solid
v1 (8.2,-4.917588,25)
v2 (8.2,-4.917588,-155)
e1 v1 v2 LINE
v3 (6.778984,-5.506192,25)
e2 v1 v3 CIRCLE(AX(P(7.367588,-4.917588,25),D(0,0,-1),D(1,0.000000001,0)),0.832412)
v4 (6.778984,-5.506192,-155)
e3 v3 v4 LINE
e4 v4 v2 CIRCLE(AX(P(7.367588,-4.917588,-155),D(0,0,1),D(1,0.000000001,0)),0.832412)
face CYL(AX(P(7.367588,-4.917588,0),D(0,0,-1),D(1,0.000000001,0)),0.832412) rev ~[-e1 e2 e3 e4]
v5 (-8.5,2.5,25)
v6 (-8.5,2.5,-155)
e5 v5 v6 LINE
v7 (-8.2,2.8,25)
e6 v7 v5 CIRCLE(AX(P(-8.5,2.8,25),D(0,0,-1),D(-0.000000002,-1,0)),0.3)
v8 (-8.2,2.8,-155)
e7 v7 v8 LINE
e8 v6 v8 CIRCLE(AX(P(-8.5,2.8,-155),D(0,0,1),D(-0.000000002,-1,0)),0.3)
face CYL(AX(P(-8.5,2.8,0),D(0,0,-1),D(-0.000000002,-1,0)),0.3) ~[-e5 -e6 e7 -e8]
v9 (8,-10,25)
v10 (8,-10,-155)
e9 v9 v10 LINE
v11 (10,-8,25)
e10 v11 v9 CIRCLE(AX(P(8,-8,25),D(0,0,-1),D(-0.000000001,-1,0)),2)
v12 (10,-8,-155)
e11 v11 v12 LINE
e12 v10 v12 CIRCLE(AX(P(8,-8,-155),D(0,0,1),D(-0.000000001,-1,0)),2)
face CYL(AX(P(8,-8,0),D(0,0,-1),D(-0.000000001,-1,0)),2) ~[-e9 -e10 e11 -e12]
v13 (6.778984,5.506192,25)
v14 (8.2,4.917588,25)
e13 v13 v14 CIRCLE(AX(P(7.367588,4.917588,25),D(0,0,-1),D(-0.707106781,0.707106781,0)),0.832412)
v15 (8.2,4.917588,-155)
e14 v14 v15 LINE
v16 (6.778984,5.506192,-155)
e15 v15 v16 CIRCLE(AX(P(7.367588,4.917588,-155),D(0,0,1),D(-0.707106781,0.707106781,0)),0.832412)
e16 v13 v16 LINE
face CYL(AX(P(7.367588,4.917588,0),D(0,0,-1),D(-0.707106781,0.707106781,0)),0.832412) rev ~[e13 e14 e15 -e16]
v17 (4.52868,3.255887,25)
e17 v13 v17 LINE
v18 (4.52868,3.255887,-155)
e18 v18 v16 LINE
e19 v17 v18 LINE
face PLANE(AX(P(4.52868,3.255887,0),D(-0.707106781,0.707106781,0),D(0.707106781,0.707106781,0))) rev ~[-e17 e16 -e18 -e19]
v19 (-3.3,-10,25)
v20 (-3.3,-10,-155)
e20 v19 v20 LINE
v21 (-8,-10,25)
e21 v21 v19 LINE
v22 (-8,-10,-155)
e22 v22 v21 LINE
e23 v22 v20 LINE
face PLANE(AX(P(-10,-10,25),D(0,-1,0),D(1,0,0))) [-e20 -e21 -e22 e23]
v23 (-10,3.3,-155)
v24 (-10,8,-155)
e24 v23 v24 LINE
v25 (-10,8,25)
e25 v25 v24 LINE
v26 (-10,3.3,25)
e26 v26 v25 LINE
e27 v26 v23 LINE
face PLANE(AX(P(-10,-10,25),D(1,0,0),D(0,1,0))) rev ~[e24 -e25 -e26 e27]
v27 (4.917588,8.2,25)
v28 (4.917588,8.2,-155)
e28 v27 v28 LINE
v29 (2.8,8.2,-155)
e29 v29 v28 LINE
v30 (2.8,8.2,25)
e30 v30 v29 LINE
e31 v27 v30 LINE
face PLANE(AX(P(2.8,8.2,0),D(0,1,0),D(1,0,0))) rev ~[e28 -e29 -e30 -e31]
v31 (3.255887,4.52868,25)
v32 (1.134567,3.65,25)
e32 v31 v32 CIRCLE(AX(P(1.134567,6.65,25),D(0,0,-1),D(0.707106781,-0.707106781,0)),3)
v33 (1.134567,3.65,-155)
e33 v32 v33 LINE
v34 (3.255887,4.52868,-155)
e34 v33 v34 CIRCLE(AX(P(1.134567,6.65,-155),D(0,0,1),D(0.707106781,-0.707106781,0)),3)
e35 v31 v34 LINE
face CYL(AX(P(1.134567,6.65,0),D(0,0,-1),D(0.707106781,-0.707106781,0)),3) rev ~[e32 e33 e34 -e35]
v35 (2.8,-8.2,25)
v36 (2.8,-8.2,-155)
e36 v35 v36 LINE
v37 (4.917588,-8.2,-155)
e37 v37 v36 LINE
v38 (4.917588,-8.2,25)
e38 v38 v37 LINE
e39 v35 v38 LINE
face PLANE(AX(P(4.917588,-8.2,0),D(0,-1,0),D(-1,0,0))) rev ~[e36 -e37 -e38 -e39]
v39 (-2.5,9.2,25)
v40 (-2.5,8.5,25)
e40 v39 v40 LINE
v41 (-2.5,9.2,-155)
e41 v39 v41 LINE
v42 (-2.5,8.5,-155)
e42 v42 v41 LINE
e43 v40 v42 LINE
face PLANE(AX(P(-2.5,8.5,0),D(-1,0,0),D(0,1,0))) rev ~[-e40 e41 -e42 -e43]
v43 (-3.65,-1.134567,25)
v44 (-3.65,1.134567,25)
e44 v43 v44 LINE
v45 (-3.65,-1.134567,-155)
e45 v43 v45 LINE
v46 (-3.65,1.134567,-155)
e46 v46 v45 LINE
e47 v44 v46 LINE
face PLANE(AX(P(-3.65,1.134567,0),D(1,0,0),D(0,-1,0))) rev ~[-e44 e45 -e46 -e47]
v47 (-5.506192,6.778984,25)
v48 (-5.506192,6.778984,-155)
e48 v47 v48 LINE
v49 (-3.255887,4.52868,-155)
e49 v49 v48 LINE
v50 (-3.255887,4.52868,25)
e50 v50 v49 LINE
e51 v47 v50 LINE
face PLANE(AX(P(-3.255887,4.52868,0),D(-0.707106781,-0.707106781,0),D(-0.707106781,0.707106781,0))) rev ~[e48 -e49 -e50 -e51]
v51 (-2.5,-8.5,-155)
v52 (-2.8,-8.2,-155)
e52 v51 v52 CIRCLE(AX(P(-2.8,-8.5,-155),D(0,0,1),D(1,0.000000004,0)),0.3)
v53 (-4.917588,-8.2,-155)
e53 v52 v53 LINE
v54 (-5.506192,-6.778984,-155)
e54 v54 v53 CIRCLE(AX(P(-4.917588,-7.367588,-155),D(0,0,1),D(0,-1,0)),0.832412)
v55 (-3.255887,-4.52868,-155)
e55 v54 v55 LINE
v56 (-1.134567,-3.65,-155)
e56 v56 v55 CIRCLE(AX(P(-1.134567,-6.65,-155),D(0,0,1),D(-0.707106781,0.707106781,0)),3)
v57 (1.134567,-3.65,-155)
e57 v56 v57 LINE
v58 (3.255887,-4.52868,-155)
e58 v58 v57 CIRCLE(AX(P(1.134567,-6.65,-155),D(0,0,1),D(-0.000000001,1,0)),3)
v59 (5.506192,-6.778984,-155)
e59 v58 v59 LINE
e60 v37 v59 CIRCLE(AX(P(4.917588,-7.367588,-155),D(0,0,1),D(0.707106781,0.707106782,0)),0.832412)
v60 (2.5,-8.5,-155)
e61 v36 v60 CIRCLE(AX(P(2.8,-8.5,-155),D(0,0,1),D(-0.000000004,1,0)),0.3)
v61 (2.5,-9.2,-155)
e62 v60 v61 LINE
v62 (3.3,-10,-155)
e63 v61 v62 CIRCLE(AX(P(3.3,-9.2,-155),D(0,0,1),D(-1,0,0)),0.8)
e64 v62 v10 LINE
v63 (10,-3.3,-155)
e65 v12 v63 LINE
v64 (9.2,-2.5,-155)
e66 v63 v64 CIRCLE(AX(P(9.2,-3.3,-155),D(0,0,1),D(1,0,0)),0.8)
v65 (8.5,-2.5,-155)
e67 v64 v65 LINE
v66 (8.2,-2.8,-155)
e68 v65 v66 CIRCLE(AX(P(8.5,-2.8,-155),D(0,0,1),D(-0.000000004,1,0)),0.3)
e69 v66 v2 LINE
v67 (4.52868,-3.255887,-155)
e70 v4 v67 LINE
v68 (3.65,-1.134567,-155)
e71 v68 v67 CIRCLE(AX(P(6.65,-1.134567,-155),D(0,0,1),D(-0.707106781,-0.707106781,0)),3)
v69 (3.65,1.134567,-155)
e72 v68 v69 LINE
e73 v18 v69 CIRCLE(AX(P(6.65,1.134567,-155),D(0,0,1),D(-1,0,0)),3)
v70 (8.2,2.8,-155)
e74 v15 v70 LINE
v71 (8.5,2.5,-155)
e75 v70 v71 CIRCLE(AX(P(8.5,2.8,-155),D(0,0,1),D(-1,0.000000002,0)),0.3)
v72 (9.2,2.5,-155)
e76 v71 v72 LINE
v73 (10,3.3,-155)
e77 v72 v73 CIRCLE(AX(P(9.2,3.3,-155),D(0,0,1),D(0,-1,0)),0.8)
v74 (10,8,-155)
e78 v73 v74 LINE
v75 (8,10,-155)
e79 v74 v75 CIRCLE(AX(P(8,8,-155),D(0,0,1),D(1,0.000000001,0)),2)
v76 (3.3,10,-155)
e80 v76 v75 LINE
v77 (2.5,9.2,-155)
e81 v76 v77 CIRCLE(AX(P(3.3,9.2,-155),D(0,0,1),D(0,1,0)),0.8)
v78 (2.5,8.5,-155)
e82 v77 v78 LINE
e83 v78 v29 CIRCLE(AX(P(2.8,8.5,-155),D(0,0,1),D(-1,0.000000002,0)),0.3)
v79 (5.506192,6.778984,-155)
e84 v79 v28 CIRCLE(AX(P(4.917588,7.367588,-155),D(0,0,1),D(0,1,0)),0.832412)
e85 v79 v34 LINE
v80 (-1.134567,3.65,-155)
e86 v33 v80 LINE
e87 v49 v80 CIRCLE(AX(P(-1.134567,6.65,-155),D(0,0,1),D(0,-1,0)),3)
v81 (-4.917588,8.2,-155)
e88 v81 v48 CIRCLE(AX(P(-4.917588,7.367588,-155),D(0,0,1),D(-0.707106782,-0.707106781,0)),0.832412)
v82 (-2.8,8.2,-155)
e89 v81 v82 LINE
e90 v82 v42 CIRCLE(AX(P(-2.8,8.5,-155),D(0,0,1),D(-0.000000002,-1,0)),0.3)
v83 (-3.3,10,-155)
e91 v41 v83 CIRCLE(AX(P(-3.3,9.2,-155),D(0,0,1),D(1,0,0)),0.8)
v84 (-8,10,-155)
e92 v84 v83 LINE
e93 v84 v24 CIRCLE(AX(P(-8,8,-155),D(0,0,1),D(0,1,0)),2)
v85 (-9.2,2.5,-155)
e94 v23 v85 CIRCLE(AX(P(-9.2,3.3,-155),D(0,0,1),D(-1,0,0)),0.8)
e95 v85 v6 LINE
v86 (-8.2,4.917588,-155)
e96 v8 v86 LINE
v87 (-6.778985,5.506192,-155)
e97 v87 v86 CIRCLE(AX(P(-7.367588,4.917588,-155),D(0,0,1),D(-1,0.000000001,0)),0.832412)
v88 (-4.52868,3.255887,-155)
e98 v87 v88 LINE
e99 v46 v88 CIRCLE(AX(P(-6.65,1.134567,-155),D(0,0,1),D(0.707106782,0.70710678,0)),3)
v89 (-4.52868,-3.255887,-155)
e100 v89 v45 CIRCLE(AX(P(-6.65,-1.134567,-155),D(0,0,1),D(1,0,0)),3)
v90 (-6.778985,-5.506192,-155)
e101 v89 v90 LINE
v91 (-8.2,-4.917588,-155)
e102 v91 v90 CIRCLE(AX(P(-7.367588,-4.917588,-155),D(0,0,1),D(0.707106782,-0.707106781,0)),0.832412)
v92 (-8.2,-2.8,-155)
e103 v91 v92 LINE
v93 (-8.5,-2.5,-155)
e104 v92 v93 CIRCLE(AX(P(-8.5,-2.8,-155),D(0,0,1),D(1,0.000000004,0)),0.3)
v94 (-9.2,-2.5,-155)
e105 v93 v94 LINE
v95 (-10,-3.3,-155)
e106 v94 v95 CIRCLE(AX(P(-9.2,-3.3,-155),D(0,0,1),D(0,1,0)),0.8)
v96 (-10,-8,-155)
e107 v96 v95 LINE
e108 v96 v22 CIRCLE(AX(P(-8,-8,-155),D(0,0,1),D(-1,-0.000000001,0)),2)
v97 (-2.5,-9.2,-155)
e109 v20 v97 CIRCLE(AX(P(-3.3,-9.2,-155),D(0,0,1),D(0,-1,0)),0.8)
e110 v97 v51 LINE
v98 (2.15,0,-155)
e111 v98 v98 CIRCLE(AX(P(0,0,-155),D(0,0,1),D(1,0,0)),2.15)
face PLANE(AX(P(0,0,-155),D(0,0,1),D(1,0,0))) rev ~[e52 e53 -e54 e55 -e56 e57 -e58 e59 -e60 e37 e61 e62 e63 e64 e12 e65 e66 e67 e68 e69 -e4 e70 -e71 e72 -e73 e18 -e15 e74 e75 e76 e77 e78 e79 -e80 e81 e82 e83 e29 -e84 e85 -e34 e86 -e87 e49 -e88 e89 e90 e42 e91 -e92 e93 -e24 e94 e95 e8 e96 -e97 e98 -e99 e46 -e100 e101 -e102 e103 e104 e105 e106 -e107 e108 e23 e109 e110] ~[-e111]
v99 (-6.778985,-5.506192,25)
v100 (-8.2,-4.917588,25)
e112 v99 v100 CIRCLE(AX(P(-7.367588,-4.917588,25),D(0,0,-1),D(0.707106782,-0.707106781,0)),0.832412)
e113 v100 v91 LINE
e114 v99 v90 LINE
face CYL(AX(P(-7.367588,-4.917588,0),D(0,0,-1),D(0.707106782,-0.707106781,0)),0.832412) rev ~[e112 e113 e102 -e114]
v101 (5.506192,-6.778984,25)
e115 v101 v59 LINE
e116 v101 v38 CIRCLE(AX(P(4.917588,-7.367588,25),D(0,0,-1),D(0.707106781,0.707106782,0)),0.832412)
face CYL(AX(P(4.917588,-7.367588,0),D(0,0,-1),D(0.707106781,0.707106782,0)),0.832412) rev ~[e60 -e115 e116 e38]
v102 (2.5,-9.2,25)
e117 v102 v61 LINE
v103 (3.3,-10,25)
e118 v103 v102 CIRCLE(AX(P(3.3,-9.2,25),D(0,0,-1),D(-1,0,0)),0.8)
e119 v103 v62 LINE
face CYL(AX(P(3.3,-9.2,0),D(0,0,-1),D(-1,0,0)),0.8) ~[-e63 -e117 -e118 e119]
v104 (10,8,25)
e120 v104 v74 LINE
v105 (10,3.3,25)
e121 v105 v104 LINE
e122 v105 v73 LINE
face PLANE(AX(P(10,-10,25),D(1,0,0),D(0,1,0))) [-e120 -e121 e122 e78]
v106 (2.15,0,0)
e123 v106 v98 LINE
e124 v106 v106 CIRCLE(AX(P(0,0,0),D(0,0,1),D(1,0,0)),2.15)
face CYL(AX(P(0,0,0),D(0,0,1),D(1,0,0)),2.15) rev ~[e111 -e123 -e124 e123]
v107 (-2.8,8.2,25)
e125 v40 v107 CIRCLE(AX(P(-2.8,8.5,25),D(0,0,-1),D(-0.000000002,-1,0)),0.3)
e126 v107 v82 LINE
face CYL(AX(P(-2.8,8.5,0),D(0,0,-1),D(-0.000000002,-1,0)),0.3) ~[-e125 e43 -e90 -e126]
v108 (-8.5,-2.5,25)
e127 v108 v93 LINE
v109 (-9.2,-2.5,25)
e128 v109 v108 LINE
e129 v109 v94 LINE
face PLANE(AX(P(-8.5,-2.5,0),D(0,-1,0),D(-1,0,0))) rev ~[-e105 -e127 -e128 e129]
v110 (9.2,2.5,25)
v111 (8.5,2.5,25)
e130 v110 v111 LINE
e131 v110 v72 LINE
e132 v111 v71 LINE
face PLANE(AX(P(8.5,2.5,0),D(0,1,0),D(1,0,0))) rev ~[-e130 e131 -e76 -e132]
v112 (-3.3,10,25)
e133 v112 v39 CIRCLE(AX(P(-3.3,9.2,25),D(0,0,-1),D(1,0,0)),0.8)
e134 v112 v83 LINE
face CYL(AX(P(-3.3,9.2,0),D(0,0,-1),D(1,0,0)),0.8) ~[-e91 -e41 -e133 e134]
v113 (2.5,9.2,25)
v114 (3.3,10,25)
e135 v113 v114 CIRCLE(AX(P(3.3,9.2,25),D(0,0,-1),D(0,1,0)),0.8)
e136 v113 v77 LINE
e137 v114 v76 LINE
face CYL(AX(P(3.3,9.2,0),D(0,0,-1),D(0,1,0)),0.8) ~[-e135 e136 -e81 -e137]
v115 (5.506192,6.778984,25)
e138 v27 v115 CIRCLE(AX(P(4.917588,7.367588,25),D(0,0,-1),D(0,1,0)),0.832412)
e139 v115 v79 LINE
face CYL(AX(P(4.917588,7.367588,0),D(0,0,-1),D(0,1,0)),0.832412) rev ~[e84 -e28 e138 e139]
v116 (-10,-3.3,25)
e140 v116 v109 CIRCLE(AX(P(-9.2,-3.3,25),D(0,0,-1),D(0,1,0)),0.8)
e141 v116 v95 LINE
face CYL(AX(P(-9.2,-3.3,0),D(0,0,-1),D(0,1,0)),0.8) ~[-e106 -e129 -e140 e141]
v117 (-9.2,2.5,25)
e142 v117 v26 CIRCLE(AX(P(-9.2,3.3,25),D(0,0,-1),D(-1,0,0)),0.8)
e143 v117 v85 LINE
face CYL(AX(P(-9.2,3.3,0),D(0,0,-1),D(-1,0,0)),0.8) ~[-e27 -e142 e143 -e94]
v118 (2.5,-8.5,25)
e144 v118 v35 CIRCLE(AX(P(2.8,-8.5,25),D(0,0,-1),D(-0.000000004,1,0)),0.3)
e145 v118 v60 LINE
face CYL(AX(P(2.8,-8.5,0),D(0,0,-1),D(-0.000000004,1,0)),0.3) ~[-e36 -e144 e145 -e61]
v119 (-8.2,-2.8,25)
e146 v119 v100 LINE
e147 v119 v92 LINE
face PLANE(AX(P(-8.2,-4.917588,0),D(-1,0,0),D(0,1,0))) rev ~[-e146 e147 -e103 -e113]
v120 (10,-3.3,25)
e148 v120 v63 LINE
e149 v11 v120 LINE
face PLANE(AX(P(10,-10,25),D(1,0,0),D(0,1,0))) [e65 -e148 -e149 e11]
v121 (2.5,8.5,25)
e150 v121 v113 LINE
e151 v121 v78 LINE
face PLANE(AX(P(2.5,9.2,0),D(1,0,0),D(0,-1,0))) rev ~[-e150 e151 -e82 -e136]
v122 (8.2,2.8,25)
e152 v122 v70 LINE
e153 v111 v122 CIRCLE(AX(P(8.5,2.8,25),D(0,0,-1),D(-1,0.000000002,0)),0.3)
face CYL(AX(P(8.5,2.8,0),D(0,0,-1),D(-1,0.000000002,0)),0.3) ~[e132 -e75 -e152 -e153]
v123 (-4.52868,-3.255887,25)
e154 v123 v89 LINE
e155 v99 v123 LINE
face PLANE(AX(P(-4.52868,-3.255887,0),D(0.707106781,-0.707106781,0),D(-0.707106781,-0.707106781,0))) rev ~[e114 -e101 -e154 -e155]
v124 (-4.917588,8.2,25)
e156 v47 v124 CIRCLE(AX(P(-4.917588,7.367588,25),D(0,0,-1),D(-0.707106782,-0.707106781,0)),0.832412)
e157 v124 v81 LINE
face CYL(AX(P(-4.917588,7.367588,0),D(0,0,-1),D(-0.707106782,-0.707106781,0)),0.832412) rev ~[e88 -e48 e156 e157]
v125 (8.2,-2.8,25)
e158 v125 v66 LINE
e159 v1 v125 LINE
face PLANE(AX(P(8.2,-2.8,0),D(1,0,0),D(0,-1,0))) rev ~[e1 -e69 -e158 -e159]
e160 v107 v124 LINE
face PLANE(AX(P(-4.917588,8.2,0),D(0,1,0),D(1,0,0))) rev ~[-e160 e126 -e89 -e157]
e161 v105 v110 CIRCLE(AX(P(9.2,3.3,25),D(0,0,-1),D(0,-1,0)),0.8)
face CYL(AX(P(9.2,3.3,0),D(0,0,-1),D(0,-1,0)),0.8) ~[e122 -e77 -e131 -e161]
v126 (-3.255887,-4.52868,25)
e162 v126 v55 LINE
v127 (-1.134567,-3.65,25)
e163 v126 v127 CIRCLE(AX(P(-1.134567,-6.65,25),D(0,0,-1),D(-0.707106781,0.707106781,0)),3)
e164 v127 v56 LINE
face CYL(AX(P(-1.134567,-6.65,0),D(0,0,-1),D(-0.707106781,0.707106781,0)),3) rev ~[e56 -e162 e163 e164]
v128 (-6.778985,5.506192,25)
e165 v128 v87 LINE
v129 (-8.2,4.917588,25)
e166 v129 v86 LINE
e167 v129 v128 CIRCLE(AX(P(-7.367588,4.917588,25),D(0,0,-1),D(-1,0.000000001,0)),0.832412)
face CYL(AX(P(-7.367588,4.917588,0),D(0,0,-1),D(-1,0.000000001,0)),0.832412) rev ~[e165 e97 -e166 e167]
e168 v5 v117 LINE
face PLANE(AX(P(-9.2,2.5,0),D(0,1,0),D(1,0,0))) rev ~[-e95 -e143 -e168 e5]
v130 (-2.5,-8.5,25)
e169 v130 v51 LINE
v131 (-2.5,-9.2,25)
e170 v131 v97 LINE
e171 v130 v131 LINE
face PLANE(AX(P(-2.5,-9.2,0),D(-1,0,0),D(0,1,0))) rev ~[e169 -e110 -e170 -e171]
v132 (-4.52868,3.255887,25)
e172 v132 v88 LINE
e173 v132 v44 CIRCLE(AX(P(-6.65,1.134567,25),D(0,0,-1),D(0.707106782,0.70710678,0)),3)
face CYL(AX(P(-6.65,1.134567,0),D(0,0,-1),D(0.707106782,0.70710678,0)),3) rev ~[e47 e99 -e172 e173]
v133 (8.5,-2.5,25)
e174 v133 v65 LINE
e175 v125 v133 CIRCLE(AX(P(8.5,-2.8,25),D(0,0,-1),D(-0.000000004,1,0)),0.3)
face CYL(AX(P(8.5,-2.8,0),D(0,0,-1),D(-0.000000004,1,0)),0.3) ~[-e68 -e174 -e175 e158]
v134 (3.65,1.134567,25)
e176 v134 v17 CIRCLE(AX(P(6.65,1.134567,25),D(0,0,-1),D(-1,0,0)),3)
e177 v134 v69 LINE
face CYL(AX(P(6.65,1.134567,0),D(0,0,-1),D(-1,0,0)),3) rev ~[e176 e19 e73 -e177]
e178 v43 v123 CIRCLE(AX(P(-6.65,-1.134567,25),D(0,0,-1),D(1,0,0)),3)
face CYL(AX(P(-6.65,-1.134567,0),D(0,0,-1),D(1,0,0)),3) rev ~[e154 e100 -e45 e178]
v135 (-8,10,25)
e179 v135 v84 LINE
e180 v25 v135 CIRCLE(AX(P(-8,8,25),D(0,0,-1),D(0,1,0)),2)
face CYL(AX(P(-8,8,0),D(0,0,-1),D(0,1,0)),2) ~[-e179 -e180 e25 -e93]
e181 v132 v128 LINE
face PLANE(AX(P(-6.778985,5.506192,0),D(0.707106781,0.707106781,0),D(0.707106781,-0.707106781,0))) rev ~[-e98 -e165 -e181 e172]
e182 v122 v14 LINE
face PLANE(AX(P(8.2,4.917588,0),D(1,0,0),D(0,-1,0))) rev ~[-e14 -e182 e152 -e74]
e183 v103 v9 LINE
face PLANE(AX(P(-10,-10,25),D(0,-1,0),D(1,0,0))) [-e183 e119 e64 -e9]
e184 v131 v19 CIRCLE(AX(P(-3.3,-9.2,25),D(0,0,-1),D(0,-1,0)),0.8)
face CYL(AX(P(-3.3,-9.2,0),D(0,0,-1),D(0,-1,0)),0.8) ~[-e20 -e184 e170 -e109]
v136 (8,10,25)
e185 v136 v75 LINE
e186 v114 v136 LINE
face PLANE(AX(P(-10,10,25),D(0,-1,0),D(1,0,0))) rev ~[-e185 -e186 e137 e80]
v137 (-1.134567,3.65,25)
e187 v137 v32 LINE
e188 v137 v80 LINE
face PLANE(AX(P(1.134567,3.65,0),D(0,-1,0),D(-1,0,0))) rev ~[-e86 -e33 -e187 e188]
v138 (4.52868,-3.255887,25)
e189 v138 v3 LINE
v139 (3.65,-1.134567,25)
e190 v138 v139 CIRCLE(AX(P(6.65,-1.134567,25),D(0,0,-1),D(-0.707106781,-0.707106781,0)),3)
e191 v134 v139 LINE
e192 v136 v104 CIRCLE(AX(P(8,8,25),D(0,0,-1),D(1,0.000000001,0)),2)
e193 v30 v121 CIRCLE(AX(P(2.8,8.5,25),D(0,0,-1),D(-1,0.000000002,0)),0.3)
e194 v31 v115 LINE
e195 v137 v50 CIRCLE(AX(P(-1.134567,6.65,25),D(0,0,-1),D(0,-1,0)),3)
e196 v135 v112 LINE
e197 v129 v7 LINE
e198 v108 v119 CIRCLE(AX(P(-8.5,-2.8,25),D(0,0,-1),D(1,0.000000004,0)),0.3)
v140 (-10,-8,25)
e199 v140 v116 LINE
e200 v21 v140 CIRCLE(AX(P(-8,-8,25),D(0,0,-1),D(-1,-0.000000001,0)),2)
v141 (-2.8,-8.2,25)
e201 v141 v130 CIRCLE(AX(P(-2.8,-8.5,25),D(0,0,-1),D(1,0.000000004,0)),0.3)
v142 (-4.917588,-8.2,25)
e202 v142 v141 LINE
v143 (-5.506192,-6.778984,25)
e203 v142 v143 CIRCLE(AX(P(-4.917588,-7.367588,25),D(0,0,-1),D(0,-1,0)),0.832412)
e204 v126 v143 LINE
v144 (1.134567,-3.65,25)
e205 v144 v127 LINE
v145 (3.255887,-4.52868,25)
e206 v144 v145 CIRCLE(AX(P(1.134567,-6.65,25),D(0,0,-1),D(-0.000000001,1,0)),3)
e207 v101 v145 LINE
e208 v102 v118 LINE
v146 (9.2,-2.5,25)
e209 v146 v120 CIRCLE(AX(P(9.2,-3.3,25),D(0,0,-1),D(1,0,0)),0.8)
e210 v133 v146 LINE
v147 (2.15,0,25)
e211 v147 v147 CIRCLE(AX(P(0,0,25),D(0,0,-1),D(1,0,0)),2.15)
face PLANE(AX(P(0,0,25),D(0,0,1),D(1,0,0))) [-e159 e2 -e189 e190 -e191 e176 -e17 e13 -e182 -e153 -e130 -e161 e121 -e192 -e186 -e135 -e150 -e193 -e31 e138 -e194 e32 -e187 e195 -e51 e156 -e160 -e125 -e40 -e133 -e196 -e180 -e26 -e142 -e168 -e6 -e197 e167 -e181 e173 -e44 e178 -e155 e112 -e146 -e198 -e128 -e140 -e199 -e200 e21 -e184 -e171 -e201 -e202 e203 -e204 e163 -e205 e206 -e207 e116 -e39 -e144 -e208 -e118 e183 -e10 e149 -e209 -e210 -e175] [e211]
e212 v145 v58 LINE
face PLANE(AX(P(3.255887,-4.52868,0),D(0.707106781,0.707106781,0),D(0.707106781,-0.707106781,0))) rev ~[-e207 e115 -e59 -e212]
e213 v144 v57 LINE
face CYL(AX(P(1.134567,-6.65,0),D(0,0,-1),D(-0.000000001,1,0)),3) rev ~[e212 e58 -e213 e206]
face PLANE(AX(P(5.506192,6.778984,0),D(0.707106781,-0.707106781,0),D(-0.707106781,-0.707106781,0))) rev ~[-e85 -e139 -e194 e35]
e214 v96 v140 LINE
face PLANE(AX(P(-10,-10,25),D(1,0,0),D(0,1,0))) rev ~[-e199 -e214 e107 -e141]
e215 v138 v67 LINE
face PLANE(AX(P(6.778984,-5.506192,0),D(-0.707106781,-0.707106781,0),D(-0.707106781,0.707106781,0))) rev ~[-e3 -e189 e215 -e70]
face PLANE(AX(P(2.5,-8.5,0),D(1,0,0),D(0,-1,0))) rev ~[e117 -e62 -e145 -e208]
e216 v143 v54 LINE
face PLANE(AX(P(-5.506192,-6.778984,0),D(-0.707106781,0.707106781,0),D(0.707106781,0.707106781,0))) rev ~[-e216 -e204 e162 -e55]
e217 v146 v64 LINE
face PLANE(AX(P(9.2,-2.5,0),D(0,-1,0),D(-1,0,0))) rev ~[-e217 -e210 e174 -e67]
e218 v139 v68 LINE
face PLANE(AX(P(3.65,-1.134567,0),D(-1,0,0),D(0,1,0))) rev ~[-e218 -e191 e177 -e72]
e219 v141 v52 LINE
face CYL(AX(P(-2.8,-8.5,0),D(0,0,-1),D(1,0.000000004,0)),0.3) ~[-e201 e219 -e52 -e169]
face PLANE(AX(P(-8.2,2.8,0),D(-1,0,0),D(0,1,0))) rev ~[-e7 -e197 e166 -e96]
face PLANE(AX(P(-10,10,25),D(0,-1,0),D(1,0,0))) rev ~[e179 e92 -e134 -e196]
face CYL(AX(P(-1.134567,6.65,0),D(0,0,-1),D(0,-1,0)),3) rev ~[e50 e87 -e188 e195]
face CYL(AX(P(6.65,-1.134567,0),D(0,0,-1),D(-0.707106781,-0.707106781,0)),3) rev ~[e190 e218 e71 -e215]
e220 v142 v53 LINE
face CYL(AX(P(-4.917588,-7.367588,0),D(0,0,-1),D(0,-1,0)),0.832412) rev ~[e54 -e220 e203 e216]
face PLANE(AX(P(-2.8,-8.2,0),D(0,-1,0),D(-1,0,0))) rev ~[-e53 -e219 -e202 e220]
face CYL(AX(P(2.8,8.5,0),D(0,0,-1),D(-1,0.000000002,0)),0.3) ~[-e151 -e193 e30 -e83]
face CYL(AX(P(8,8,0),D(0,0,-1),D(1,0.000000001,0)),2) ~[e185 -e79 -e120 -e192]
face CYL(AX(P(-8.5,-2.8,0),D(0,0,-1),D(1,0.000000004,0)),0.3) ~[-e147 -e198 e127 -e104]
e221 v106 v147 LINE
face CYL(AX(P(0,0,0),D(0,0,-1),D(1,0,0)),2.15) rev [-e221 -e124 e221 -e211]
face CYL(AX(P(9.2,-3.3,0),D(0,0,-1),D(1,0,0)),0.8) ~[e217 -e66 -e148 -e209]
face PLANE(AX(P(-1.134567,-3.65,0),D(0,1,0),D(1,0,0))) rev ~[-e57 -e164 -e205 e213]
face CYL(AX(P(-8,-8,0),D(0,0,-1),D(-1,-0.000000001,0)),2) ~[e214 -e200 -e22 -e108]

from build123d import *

# Parameters (mm, degrees)
SKETCH4_W              = 20
SKETCH4_H              = 20
BODY_DEPTH             = 180
SKETCH16_OUTSIDE_W     = 58.442
SKETCH16_OUTSIDE_H     = 58.442
SKETCH16_OUTSIDE_R     = 2.15
CUT_PROFILE_DEPTH      = 26
CUT_PROFILE_DEPTH_BACK = 156


with BuildPart() as part:
    # Sketch4 → Body (new body)
    with BuildSketch(Plane.XY.offset(25)):
        Rectangle(SKETCH4_W, SKETCH4_H)
    extrude(amount=-BODY_DEPTH)

    # Sketch16 outside → Cut-Profile (cut, two sides)
    with BuildSketch(Plane.XY) as cut_profile_sk:
        Rectangle(SKETCH16_OUTSIDE_W, SKETCH16_OUTSIDE_H)
        with BuildLine():
            Line((4.917588389, -8.199999991), (2.799999989, -8.199999991))
            ThreePointArc((2.799999989, -8.199999991), (2.587867955, -8.287867957), (2.499999989, -8.499999991))
            Line((2.499999989, -8.499999991), (2.499999989, -9.199999991))
            ThreePointArc((2.499999989, -9.199999991), (2.734314564, -9.765685416), (3.299999989, -9.999999991))
            Line((3.299999989, -9.999999991), (7.999999989, -9.999999991))
            ThreePointArc((7.999999989, -9.999999991), (9.414213552, -9.414213554), (9.999999989, -7.999999991))
            Line((9.999999989, -7.999999991), (9.999999989, -3.299999991))
            ThreePointArc((9.999999989, -3.299999991), (9.765685414, -2.734314566), (9.199999989, -2.499999991))
            Line((9.199999989, -2.499999991), (8.499999989, -2.499999991))
            ThreePointArc((8.499999989, -2.499999991), (8.287867955, -2.587867957), (8.199999989, -2.799999991))
            Line((8.199999989, -2.799999991), (8.199999989, -4.917588391))
            ThreePointArc((8.199999989, -4.917588391), (7.686138511, -5.686636441), (6.778984485, -5.506192286))
            Line((6.778984485, -5.506192286), (4.528679645, -3.255887446))
            ThreePointArc((4.528679645, -3.255887446), (3.878361392, -2.282617401), (3.64999999, -1.134567106))
            Line((3.64999999, -1.134567106), (3.64999999, 1.134567104))
            ThreePointArc((3.64999999, 1.134567104), (3.878361393, 2.282617402), (4.528679647, 3.255887448))
            Line((4.528679647, 3.255887448), (6.778984487, 5.506192288))
            ThreePointArc((6.778984487, 5.506192288), (7.686138506, 5.686636442), (8.199999981, 4.917588398))
            Line((8.199999981, 4.917588398), (8.199999981, 2.799999998))
            ThreePointArc((8.199999981, 2.799999998), (8.287867946, 2.587867964), (8.499999981, 2.499999998))
            Line((8.499999981, 2.499999998), (9.199999981, 2.499999998))
            ThreePointArc((9.199999981, 2.499999998), (9.765685406, 2.734314573), (9.999999981, 3.299999998))
            Line((9.999999981, 3.299999998), (9.999999981, 7.999999998))
            ThreePointArc((9.999999981, 7.999999998), (9.414213543, 9.41421356), (7.999999981, 9.999999998))
            Line((7.999999981, 9.999999998), (3.299999981, 9.999999998))
            ThreePointArc((3.299999981, 9.999999998), (2.734314556, 9.765685423), (2.499999981, 9.199999998))
            Line((2.499999981, 9.199999998), (2.499999981, 8.499999998))
            ThreePointArc((2.499999981, 8.499999998), (2.587867946, 8.287867964), (2.799999981, 8.199999998))
            Line((2.799999981, 8.199999998), (4.917588381, 8.199999998))
            ThreePointArc((4.917588381, 8.199999998), (5.68663643, 7.68613852), (5.506192275, 6.778984494))
            Line((5.506192275, 6.778984494), (3.255887435, 4.528679654))
            ThreePointArc((3.255887435, 4.528679654), (2.28261739, 3.878361401), (1.134567095, 3.649999999))
            Line((1.134567095, 3.649999999), (-1.134567115, 3.649999999))
            ThreePointArc((-1.134567115, 3.649999999), (-2.282617412, 3.878361401), (-3.255887459, 4.528679655))
            Line((-3.255887459, 4.528679655), (-5.506192299, 6.778984495))
            ThreePointArc((-5.506192299, 6.778984495), (-5.686636452, 7.686138515), (-4.917588409, 8.199999989))
            Line((-4.917588409, 8.199999989), (-2.800000009, 8.199999989))
            ThreePointArc((-2.800000009, 8.199999989), (-2.587867974, 8.287867955), (-2.500000009, 8.499999989))
            Line((-2.500000009, 8.499999989), (-2.500000009, 9.199999989))
            ThreePointArc((-2.500000009, 9.199999989), (-2.734314584, 9.765685414), (-3.300000009, 9.999999989))
            Line((-3.300000009, 9.999999989), (-8.000000009, 9.999999989))
            ThreePointArc((-8.000000009, 9.999999989), (-9.414213571, 9.414213552), (-10.000000009, 7.999999989))
            Line((-10.000000009, 7.999999989), (-10.000000009, 3.299999989))
            ThreePointArc((-10.000000009, 3.299999989), (-9.765685434, 2.734314564), (-9.200000009, 2.499999989))
            Line((-9.200000009, 2.499999989), (-8.500000009, 2.499999989))
            ThreePointArc((-8.500000009, 2.499999989), (-8.287867974, 2.587867955), (-8.200000009, 2.799999989))
            Line((-8.200000009, 2.799999989), (-8.200000009, 4.917588389))
            ThreePointArc((-8.200000009, 4.917588389), (-7.686138531, 5.686636438), (-6.778984504, 5.506192284))
            Line((-6.778984504, 5.506192284), (-4.528679664, 3.255887444))
            ThreePointArc((-4.528679664, 3.255887444), (-3.878361412, 2.282617399), (-3.650000009, 1.134567104))
            Line((-3.650000009, 1.134567104), (-3.650000009, -1.134567106))
            ThreePointArc((-3.650000009, -1.134567106), (-3.878361412, -2.282617404), (-4.528679666, -3.25588745))
            Line((-4.528679666, -3.25588745), (-6.778984506, -5.50619229))
            ThreePointArc((-6.778984506, -5.50619229), (-7.686138526, -5.686636444), (-8.2, -4.9175884))
            Line((-8.2, -4.9175884), (-8.2, -2.8))
            ThreePointArc((-8.2, -2.8), (-8.287867966, -2.587867966), (-8.5, -2.5))
            Line((-8.5, -2.5), (-9.2, -2.5))
            ThreePointArc((-9.2, -2.5), (-9.765685425, -2.734314575), (-10, -3.3))
            Line((-10, -3.3), (-10, -8))
            ThreePointArc((-10, -8), (-9.414213562, -9.414213562), (-8, -10))
            Line((-8, -10), (-3.3, -10))
            ThreePointArc((-3.3, -10), (-2.734314575, -9.765685425), (-2.5, -9.2))
            Line((-2.5, -9.2), (-2.5, -8.5))
            ThreePointArc((-2.5, -8.5), (-2.587867966, -8.287867966), (-2.8, -8.2))
            Line((-2.8, -8.2), (-4.9175884, -8.2))
            ThreePointArc((-4.9175884, -8.2), (-5.686636449, -7.686138522), (-5.506192294, -6.778984496))
            Line((-5.506192294, -6.778984496), (-3.255887454, -4.528679656))
            ThreePointArc((-3.255887454, -4.528679656), (-2.282617409, -3.878361403), (-1.134567114, -3.650000001))
            Line((-1.134567114, -3.650000001), (1.134567096, -3.650000001))
            ThreePointArc((1.134567096, -3.650000001), (2.282617393, -3.878361403), (3.255887439, -4.528679657))
            Line((3.255887439, -4.528679657), (5.506192279, -6.778984497))
            ThreePointArc((5.506192279, -6.778984497), (5.686636433, -7.686138517), (4.917588389, -8.199999991))
        make_face(mode=Mode.SUBTRACT)
        Circle(SKETCH16_OUTSIDE_R)
    extrude(amount=CUT_PROFILE_DEPTH, mode=Mode.SUBTRACT)
    extrude(cut_profile_sk.sketch, amount=-CUT_PROFILE_DEPTH_BACK, mode=Mode.SUBTRACT)


solid = part.part
